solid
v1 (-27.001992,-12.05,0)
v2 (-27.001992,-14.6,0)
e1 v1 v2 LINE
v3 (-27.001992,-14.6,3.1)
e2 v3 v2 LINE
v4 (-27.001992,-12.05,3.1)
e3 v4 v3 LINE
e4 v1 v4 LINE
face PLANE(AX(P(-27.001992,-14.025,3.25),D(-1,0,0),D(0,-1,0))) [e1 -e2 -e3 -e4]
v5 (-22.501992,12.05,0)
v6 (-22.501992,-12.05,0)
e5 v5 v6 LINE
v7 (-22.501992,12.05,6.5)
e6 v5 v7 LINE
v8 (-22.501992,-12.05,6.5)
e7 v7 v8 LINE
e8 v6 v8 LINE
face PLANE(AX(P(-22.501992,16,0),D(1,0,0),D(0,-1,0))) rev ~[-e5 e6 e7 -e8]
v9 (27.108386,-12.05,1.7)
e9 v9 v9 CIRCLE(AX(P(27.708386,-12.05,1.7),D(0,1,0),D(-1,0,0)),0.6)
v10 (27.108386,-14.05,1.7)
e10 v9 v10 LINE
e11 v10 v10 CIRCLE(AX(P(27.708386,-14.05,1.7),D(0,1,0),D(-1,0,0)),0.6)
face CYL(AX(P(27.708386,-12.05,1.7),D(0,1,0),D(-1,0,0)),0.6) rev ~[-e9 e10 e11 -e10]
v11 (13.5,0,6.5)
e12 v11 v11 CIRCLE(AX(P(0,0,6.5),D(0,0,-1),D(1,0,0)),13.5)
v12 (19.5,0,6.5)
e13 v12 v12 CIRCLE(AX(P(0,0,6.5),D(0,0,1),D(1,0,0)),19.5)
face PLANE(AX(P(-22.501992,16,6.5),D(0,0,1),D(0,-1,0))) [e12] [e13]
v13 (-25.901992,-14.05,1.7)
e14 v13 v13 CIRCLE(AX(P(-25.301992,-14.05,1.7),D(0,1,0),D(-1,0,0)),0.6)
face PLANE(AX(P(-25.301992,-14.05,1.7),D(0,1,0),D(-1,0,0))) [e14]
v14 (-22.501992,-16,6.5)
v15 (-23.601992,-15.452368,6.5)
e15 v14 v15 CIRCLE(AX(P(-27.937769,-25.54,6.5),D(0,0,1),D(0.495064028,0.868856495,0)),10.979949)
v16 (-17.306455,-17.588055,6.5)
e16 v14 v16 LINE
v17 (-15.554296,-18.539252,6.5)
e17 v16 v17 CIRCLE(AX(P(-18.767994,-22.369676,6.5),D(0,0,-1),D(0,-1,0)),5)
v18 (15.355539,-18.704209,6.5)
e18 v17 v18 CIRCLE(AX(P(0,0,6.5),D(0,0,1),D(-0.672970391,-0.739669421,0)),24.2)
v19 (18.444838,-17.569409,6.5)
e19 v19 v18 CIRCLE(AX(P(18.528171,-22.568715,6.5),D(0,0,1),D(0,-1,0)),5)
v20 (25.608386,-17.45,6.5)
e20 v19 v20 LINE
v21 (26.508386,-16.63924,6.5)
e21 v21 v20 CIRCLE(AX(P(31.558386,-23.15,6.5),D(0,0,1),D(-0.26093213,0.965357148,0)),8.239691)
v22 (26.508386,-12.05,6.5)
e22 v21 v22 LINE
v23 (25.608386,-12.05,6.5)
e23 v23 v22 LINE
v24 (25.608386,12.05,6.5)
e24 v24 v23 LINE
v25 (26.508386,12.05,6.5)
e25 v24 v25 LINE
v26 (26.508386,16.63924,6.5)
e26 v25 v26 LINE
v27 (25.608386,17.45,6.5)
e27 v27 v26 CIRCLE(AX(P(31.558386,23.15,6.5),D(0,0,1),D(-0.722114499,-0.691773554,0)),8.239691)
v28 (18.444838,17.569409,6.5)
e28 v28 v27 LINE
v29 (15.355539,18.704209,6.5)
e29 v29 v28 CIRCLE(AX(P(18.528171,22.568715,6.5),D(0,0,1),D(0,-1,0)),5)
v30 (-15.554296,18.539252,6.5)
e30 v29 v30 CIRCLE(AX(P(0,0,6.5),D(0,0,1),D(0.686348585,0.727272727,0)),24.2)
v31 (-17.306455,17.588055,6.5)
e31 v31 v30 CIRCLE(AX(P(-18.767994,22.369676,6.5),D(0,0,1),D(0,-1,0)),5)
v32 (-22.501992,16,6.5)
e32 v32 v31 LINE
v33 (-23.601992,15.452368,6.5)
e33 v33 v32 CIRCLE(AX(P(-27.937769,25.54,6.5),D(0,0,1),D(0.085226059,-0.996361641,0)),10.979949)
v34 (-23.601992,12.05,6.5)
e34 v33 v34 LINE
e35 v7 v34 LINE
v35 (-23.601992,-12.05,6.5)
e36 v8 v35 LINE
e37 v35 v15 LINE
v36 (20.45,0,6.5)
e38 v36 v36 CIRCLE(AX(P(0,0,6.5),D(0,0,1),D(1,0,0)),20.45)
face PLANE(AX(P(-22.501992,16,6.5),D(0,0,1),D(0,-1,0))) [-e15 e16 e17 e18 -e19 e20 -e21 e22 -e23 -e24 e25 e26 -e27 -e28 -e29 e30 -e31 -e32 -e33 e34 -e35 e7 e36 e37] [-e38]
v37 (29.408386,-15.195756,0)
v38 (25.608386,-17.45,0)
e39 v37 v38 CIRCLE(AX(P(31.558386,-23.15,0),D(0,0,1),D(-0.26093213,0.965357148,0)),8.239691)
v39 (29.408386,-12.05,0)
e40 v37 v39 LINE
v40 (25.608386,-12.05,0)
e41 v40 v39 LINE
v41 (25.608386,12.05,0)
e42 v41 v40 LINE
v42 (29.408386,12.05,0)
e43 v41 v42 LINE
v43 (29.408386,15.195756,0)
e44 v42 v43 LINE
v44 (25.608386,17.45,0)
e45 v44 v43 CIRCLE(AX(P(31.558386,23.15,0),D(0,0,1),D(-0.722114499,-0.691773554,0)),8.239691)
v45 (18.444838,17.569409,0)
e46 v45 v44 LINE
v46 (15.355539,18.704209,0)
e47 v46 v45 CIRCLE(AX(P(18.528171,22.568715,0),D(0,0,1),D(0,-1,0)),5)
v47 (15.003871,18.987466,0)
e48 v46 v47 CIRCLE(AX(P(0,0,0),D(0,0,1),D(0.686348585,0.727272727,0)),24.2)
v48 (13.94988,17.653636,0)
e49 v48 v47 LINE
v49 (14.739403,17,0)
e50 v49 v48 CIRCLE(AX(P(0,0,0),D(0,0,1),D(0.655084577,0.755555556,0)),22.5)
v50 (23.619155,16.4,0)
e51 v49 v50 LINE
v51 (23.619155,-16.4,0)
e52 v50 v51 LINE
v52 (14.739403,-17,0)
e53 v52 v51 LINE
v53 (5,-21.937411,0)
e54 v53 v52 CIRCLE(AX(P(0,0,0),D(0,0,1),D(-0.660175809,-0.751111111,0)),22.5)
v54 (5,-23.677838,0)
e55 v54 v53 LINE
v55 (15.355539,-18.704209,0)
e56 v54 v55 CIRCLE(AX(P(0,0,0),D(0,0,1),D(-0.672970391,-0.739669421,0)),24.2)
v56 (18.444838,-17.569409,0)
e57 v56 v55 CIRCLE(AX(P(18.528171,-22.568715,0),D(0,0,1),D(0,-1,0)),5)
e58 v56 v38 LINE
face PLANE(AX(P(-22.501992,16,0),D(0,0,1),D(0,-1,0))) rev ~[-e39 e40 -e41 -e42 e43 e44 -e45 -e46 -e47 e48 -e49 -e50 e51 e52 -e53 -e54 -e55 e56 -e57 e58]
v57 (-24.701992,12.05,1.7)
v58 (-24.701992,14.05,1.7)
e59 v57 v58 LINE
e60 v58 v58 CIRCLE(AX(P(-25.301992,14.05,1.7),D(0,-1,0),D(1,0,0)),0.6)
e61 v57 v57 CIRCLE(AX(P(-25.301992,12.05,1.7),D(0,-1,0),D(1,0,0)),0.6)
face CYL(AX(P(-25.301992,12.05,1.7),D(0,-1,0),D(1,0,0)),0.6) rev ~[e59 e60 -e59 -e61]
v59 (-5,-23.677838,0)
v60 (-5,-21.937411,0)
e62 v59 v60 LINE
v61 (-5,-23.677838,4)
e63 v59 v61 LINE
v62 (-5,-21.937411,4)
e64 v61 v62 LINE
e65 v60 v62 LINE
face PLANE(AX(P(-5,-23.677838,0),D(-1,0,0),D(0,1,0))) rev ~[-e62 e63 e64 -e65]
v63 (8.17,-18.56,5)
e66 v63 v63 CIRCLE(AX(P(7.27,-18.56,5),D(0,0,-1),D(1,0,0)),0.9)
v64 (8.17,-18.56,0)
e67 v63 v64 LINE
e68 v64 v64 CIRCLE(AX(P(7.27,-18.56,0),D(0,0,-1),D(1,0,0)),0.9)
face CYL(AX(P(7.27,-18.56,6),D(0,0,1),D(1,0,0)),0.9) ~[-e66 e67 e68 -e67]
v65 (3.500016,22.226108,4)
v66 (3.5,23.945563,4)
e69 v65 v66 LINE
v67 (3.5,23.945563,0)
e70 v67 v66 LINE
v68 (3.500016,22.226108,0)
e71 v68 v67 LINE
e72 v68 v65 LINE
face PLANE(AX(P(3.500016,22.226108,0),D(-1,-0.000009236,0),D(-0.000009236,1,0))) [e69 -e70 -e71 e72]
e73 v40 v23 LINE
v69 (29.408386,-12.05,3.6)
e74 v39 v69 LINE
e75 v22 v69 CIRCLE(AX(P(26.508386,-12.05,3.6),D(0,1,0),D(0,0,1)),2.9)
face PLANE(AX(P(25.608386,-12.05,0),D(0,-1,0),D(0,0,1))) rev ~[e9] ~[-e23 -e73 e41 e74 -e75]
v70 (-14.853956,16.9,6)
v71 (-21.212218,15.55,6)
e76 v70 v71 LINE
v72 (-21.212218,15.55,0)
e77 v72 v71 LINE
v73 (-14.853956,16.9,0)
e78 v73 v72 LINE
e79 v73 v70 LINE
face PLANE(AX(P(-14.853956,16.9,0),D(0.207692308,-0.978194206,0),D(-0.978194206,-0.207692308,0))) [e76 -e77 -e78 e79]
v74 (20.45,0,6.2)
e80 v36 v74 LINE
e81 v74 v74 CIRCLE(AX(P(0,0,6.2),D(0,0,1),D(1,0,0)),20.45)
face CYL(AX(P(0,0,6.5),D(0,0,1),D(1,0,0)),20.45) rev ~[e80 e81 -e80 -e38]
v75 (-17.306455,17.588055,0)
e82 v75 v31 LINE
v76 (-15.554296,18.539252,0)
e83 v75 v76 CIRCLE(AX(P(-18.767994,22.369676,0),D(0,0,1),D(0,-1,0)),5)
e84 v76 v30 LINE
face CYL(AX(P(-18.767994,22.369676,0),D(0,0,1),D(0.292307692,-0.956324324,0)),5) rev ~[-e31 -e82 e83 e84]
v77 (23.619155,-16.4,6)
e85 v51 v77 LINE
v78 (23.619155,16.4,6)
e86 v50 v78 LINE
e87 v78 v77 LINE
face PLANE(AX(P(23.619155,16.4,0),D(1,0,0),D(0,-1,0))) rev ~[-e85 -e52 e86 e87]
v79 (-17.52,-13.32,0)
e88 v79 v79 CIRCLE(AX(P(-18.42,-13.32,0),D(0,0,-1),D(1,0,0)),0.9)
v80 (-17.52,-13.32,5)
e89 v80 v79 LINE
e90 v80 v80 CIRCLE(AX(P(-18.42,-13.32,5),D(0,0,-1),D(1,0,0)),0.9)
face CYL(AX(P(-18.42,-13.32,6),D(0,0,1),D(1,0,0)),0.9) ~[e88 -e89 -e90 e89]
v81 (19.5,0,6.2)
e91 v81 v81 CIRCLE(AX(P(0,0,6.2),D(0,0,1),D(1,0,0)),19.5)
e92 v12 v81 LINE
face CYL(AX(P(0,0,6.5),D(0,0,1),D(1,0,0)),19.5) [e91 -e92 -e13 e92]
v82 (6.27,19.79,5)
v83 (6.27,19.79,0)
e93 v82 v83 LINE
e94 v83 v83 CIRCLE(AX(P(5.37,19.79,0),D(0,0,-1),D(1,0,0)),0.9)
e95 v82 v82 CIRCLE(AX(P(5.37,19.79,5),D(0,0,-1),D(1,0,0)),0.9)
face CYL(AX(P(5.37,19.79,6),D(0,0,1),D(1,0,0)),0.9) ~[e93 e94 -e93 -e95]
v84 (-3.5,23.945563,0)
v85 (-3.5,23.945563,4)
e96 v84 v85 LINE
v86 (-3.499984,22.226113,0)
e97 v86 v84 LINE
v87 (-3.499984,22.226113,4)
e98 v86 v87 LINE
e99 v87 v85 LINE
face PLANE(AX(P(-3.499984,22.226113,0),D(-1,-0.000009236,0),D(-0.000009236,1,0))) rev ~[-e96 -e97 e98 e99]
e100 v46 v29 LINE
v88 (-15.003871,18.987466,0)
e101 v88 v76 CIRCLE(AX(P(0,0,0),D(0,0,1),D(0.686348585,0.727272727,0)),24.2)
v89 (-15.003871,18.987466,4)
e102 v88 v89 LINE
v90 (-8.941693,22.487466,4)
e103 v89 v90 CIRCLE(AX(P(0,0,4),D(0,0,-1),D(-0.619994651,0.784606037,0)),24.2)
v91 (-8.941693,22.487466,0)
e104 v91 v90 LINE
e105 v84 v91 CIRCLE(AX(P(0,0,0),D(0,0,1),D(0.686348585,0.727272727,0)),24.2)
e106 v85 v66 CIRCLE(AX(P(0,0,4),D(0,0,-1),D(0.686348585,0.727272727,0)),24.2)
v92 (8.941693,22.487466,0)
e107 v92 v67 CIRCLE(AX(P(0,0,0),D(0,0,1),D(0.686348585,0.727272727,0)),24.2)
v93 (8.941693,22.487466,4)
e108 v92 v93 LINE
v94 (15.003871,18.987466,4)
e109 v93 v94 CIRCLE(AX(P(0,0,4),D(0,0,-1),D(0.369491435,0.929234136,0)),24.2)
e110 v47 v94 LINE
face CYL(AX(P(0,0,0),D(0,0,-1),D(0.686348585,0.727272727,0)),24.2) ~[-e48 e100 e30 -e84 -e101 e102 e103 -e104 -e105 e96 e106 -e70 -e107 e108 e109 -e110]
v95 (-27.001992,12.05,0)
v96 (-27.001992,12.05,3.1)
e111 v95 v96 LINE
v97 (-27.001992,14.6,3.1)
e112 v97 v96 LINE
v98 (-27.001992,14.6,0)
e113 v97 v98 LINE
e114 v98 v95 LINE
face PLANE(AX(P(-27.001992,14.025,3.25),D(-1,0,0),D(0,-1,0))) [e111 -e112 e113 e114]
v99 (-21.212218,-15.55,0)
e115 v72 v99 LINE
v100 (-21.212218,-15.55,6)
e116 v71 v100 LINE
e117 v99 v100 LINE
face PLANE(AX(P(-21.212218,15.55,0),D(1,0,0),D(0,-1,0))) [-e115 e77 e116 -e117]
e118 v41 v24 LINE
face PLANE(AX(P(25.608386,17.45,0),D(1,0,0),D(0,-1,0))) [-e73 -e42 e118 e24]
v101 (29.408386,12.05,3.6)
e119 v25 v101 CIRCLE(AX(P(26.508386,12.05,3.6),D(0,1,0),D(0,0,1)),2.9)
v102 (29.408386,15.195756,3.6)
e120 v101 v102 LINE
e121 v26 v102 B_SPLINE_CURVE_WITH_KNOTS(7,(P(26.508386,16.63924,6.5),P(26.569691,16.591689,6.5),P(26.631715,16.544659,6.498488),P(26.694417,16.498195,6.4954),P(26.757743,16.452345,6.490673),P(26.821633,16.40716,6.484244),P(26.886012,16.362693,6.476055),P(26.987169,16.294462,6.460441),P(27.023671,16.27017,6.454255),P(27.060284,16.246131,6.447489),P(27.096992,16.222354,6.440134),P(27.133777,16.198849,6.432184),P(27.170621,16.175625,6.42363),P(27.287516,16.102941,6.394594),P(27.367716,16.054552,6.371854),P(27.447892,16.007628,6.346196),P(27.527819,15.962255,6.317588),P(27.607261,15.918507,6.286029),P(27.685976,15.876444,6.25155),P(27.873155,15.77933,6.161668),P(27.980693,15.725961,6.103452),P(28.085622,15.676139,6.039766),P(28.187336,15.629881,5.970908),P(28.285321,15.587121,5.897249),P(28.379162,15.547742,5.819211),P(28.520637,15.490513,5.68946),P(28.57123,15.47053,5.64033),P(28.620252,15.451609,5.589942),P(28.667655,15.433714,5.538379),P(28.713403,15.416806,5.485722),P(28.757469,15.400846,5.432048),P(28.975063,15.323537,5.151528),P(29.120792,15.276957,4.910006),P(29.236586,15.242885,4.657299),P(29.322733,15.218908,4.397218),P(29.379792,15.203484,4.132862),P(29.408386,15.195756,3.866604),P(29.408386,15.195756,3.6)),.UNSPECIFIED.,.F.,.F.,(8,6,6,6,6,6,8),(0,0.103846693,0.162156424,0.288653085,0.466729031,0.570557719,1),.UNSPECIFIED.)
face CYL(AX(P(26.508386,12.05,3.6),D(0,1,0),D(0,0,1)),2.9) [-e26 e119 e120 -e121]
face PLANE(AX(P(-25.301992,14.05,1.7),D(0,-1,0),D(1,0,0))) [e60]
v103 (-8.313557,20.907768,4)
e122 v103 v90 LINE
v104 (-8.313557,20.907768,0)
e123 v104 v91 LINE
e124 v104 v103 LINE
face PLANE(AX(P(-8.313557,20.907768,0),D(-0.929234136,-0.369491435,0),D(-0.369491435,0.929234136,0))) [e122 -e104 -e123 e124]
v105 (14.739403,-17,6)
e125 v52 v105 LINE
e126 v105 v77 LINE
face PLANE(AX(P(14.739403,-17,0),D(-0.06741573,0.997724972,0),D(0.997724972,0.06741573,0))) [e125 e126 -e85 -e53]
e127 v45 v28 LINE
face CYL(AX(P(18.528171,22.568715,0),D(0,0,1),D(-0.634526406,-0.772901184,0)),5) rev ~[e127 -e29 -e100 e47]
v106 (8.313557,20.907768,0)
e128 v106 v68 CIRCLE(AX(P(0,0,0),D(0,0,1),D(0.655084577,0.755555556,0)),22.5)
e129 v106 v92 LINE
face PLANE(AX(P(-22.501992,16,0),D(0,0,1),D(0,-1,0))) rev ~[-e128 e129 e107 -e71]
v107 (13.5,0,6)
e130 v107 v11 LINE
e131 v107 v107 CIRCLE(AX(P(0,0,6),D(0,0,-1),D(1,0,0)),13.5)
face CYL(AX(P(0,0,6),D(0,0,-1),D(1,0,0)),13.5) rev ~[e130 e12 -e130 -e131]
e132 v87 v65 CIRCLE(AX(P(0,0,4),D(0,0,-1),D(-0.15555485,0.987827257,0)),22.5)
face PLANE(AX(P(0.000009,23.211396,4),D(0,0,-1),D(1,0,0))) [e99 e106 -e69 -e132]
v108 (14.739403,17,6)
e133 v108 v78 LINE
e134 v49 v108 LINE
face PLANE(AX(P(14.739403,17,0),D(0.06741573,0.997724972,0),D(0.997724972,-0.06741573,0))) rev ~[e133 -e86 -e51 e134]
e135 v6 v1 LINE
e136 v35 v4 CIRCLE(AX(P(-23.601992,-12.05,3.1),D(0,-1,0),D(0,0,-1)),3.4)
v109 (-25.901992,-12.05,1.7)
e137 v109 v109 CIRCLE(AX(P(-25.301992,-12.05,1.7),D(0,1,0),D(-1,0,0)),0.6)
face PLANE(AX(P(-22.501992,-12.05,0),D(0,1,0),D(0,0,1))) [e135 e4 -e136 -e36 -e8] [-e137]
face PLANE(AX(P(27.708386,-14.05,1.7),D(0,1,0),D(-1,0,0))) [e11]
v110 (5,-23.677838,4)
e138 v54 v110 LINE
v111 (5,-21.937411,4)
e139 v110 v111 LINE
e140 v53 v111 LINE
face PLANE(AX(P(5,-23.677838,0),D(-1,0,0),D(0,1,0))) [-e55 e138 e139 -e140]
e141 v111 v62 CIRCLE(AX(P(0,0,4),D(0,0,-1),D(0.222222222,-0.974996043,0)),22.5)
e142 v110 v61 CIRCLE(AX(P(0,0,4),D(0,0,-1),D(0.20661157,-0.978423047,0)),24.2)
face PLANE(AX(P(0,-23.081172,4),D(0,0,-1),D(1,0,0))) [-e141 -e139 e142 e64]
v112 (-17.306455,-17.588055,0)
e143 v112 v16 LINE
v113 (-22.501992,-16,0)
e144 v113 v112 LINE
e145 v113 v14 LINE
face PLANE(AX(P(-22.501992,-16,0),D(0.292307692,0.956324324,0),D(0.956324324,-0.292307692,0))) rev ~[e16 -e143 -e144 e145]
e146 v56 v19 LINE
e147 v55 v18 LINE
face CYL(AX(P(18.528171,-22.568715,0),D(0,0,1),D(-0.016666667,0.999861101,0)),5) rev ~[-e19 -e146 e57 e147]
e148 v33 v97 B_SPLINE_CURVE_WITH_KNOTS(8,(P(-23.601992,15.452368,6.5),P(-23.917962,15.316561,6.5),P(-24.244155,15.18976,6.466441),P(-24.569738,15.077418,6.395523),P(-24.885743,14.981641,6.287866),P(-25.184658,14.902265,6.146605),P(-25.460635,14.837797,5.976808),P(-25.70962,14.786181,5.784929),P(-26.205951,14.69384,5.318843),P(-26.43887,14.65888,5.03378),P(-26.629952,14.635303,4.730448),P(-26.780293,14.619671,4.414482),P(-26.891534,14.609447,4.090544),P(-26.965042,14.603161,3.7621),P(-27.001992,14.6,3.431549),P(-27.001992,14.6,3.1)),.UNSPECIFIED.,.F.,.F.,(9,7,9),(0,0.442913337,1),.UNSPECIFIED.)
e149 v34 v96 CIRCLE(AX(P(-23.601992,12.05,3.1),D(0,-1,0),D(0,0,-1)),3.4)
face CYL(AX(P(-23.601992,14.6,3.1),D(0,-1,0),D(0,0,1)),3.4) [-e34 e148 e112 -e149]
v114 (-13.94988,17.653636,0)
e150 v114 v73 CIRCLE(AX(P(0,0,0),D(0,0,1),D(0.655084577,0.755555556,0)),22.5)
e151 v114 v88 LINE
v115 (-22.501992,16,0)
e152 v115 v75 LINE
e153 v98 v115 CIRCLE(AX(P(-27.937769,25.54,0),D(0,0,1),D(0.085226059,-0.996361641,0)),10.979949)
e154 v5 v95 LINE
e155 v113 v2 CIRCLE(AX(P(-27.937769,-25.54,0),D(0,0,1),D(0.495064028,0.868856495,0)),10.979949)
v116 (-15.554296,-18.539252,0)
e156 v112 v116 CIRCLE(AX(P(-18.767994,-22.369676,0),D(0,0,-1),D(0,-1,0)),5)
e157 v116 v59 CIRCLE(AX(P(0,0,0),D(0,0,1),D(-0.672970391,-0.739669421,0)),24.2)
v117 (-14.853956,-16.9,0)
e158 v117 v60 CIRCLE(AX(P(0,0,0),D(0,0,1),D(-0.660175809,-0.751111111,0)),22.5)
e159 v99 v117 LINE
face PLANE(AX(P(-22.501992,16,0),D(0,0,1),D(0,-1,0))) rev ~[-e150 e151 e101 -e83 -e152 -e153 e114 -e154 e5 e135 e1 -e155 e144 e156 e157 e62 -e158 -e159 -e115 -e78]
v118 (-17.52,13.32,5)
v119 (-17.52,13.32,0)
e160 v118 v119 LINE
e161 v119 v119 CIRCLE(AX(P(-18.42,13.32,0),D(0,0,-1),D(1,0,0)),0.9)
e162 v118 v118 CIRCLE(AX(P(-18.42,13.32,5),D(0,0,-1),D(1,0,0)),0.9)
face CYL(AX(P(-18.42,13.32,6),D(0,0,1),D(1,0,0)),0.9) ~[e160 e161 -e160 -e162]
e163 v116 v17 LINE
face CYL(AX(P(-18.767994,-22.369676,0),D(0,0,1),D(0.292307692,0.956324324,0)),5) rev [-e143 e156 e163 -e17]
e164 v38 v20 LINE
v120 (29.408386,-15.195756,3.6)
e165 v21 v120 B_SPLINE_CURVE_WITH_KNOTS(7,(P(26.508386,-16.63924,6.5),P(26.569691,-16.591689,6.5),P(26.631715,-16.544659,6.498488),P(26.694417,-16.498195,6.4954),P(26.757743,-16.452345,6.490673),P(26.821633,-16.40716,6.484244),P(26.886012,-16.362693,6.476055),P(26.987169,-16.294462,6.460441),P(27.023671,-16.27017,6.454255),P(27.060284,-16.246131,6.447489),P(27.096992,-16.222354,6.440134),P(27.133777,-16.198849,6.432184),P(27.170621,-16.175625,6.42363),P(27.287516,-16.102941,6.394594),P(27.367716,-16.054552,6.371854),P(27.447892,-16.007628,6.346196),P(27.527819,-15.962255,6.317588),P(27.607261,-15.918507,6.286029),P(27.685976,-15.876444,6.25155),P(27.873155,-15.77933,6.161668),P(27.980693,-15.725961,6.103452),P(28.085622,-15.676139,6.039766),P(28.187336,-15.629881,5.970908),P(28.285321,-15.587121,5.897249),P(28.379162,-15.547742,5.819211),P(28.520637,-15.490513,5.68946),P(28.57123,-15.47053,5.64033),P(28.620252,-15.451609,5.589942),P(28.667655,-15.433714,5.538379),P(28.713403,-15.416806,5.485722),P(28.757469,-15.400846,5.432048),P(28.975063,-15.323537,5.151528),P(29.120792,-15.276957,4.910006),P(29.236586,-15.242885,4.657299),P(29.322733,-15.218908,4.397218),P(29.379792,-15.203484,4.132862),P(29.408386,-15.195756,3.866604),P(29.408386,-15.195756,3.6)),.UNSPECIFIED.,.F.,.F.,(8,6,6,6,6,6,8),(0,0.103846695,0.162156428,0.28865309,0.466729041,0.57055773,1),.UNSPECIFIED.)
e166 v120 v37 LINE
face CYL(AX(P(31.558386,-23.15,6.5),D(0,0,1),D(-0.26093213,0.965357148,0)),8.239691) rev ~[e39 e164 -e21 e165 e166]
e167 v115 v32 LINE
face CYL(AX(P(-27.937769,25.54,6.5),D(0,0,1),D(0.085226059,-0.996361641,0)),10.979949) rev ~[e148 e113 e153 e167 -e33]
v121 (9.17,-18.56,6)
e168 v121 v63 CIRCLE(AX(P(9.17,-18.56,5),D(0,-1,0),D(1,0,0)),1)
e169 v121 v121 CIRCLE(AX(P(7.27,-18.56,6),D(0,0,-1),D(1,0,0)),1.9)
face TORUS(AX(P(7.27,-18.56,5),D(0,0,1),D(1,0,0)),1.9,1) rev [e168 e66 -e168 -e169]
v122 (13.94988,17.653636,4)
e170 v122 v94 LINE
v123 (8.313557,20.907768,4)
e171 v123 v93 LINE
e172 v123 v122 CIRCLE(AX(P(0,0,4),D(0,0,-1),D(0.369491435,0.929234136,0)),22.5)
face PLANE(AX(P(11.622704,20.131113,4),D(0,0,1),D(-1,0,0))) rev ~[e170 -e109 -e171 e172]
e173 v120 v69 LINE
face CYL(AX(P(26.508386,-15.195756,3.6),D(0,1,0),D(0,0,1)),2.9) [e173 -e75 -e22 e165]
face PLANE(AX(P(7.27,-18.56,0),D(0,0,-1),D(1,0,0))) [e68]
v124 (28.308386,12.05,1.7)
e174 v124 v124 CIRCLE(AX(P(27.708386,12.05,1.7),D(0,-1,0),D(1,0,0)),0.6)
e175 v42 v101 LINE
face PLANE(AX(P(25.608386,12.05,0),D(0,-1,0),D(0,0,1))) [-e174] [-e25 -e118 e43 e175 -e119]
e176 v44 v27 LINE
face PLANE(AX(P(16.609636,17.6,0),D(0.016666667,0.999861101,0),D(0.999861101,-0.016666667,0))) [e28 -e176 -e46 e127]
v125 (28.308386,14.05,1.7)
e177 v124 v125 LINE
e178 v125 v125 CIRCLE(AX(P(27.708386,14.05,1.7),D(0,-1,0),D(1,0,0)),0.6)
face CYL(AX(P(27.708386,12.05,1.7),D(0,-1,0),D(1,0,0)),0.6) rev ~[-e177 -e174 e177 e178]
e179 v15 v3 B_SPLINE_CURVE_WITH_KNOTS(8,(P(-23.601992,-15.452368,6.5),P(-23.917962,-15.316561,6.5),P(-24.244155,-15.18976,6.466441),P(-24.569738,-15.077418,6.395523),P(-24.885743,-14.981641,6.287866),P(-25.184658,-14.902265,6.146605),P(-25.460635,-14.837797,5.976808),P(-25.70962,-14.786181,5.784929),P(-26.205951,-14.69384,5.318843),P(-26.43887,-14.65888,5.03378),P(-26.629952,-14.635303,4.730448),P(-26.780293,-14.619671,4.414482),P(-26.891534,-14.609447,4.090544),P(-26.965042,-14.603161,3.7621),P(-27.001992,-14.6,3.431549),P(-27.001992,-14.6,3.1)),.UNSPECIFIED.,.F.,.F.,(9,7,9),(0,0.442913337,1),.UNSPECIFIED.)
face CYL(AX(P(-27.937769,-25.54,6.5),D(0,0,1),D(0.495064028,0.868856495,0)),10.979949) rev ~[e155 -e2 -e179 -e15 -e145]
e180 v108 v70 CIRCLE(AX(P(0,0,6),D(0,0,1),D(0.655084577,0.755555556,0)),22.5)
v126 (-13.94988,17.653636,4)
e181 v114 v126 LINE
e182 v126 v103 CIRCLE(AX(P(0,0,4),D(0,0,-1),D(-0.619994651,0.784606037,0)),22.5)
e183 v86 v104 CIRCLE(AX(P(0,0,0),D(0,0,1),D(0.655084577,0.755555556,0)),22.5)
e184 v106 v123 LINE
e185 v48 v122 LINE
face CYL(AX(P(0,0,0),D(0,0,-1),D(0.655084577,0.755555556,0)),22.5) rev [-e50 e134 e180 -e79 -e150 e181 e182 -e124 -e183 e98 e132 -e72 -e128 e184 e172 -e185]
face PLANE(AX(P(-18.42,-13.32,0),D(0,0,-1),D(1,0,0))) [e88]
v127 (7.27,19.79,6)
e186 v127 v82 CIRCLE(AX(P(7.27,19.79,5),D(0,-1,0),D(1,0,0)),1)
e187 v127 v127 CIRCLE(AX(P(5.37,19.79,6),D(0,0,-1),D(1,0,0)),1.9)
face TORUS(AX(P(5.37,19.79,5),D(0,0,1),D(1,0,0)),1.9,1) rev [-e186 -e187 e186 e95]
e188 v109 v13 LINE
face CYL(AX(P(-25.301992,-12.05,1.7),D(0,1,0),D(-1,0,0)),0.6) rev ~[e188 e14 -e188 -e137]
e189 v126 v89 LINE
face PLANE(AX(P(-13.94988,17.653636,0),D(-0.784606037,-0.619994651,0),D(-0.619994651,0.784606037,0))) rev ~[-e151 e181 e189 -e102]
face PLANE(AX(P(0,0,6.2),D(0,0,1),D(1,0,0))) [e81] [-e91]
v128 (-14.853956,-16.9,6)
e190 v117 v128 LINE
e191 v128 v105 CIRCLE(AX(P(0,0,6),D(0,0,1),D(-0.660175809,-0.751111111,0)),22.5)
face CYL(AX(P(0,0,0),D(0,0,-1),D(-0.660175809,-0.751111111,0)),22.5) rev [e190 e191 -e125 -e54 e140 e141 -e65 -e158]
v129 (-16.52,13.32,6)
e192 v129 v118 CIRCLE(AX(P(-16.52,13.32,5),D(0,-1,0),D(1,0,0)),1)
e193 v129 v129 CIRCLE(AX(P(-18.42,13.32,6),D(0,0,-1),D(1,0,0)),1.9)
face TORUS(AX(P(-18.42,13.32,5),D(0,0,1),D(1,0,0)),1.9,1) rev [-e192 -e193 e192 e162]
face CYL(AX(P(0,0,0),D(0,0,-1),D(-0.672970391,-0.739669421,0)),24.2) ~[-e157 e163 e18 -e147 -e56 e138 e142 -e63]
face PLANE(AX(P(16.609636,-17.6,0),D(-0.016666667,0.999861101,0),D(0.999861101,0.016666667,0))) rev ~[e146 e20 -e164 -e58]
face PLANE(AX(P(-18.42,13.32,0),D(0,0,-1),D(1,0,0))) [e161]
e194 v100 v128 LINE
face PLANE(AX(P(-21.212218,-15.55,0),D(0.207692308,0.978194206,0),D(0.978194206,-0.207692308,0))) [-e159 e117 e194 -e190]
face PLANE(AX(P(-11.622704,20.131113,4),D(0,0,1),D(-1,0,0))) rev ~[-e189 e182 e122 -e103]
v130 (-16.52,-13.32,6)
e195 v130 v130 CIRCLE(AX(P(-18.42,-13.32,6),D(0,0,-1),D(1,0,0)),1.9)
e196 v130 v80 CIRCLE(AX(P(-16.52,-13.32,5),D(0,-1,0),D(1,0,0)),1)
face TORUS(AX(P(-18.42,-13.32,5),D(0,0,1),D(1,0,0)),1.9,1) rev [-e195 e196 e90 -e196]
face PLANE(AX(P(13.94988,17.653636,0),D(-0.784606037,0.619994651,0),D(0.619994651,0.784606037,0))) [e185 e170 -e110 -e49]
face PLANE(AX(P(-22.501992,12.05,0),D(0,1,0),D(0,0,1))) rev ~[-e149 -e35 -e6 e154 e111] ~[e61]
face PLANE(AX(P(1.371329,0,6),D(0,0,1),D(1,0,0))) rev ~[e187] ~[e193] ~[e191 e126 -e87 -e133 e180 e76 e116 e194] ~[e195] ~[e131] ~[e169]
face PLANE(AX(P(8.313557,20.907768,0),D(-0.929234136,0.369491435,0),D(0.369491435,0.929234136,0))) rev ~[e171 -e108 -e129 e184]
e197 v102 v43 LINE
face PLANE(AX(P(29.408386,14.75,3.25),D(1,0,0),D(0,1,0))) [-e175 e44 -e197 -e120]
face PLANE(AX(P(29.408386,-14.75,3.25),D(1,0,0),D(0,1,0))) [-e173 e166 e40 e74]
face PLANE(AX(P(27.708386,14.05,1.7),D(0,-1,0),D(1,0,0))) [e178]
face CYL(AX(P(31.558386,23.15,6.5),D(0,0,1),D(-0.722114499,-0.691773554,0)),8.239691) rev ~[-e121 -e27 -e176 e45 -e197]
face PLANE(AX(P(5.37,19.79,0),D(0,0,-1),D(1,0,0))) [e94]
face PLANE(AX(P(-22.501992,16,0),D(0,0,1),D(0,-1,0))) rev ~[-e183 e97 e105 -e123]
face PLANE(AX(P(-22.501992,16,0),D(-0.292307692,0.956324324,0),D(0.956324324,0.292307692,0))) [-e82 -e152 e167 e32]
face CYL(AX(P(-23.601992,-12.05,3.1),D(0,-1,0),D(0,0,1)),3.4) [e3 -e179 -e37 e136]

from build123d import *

# Parameters (mm, degrees)
PAD_DEPTH       = 6.5
POCKET_DEPTH    = 6
SKETCH002_R     = 13.5
POCKET001_DEPTH = 1
SKETCH003_W     = 5.4
SKETCH003_H     = 6.5
PAD001_DEPTH    = 3.8
POCKET002_DEPTH = 10
SKETCH008_R     = 0.6
POCKET003_DEPTH = 2
SKETCH009_R     = 0.6
POCKET004_DEPTH = 2
FILLET_R        = 2.9
FILLET001_R     = 2.9
FILLET002_R     = 5
FILLET003_R     = 5
FILLET004_R     = 5
FILLET005_R     = 5
SKETCH010_W     = 3.95
SKETCH010_H     = 6.5
PAD002_DEPTH    = 4.5
POCKET005_DEPTH = 10
SKETCH012_R     = 0.6
POCKET006_DEPTH = 2
SKETCH013_R     = 0.6
POCKET007_DEPTH = 2
FILLET006_R     = 3.4
FILLET007_R     = 3.4
SKETCH014_R     = 20.45
SKETCH014_R_2   = 19.5
POCKET008_DEPTH = 0.3
SKETCH015_R     = 0.9
PAD003_DEPTH    = 6
FILLET008_R     = 1
POCKET009_DEPTH = 4
POCKET010_DEPTH = 4


with BuildPart() as part:
    # Sketch → Pad (new body)
    with BuildSketch(Plane.XY):
        with BuildLine():
            Line((-22.5019915649, 16), (-22.5019915649, -16))
            Line((-22.5019915649, -16), (-16.2858834578, -17.9))
            ThreePointArc((-16.2858834578, -17.9), (0.2206895736, -24.1989937004), (16.6096357576, -17.6))
            Line((16.6096357576, -17.6), (25.6083856708, -17.45))
            Line((25.6083856708, 17.45), (25.6083856708, -17.45))
            Line((16.6096357576, 17.6), (25.6083856708, 17.45))
            ThreePointArc((16.6096357576, 17.6), (0.2206895736, 24.1989937004), (-16.2858834578, 17.9))
            Line((-22.5019915649, 16), (-16.2858834578, 17.9))
        make_face()
    extrude(amount=PAD_DEPTH)

    # Sketch001 → Pocket (cut)
    with BuildSketch(Plane.XY):
        with BuildLine():
            Line((-14.8539557021, 16.9), (-21.2122180433, 15.55))
            Line((-21.2122180433, 15.55), (-21.2122180433, -15.55))
            Line((-21.2122180433, -15.55), (-14.8539557021, -16.9))
            ThreePointArc((-14.8539557021, -16.9), (-0.0760301383, -22.4998715423), (14.739402973, -17))
            Line((14.739402973, -17), (23.6191552218, -16.4))
            Line((23.6191552218, 16.4), (23.6191552218, -16.4))
            Line((14.739402973, 17), (23.6191552218, 16.4))
            ThreePointArc((14.739402973, 17), (-0.0760301383, 22.4998715423), (-14.8539557021, 16.9))
        make_face()
    extrude(amount=POCKET_DEPTH, mode=Mode.SUBTRACT)

    # Sketch002 (on Face19 of Pocket) → Pocket001 (cut)
    with BuildSketch(Plane(origin=(0, 0, 6), x_dir=(1, 0, 0), z_dir=(0, 0, -1))):
        Circle(SKETCH002_R)
    extrude(amount=-POCKET001_DEPTH, mode=Mode.SUBTRACT)

    # Sketch003 (on Face6 of Pocket001) → Pad001 (join)
    with BuildSketch(Plane.YZ.offset(25.6083856708)):
        with Locations((-14.75, 3.25)):
            Rectangle(SKETCH003_W, SKETCH003_H)
        with Locations((14.75, 3.25)):
            Rectangle(SKETCH003_W, SKETCH003_H)
    extrude(amount=PAD001_DEPTH)

    # Sketch006 → Pocket002 (cut)
    with BuildSketch(Plane.XY.offset(6.5)):
        with BuildLine():
            ThreePointArc((25.6083856708, 17.45), (27.3544703324, 16.0634214301), (29.4083856708, 15.1957558499))
            Line((29.4083856708, 17.45), (29.4083856708, 15.1957558499))
            Line((29.4083856708, 17.45), (25.6083856708, 17.45))
        make_face()
        with BuildLine():
            ThreePointArc((29.4083856708, -15.1957558499), (27.3544703324, -16.0634214301), (25.6083856708, -17.45))
            Line((29.4083856708, -17.45), (25.6083856708, -17.45))
            Line((29.4083856708, -15.1957558499), (29.4083856708, -17.45))
        make_face()
    extrude(amount=-POCKET002_DEPTH, mode=Mode.SUBTRACT)

    # Sketch008 (on Face27 of Pocket002) → Pocket003 (cut)
    with BuildSketch(Plane(origin=(0, -12.05, 0), x_dir=(-1, 0, 0), z_dir=(0, 1, 0))):
        with Locations((-27.7083856708, 1.7)):
            Circle(SKETCH008_R)
    extrude(amount=-POCKET003_DEPTH, mode=Mode.SUBTRACT)

    # Sketch009 (on Face26 of Pocket003) → Pocket004 (cut)
    with BuildSketch(Plane.XZ.offset(-12.05)):
        with Locations((27.7083856708, 1.7)):
            Circle(SKETCH009_R)
    extrude(amount=-POCKET004_DEPTH, mode=Mode.SUBTRACT)

    # Fillet
    fillet_edges = [part.edges().sort_by_distance(p)[0] for p in [
        (29.408386, -13.622878, 6.5),
    ]]
    fillet(fillet_edges, radius=FILLET_R)

    # Fillet001
    fillet001_edges = [part.edges().sort_by_distance(p)[0] for p in [
        (29.408386, 13.622878, 6.5),
    ]]
    fillet(fillet001_edges, radius=FILLET001_R)

    # Fillet002
    fillet002_edges = [part.edges().sort_by_distance(p)[0] for p in [
        (16.609636, -17.6, 3.25),
    ]]
    fillet(fillet002_edges, radius=FILLET002_R)

    # Fillet003
    fillet003_edges = [part.edges().sort_by_distance(p)[0] for p in [
        (16.609636, 17.6, 3.25),
    ]]
    fillet(fillet003_edges, radius=FILLET003_R)

    # Fillet004
    fillet004_edges = [part.edges().sort_by_distance(p)[0] for p in [
        (-16.285883, -17.9, 3.25),
    ]]
    fillet(fillet004_edges, radius=FILLET004_R)

    # Fillet005
    fillet005_edges = [part.edges().sort_by_distance(p)[0] for p in [
        (-16.285883, 17.9, 3.25),
    ]]
    fillet(fillet005_edges, radius=FILLET005_R)

    # Sketch010 (on Face4 of Fillet005) → Pad002 (join)
    with BuildSketch(Plane(origin=(-22.5019915649, 0, 0), x_dir=(0, -1, 0), z_dir=(-1, 0, 0))):
        with Locations((-14.025, 3.25)):
            Rectangle(SKETCH010_W, SKETCH010_H)
        with Locations((14.025, 3.25)):
            Rectangle(SKETCH010_W, SKETCH010_H)
    extrude(amount=PAD002_DEPTH)

    # Sketch011 (on Face6 of Pad002) → Pocket005 (cut)
    with BuildSketch(Plane.XY.offset(6.5)):
        with BuildLine():
            ThreePointArc((-27.0019915649, 14.6), (-24.6759937451, 15.0557212933), (-22.5019915649, 16))
            Line((-22.5019915649, 16), (-27.0019915649, 16))
            Line((-27.0019915649, 16), (-27.0019915649, 14.6))
        make_face()
        with BuildLine():
            ThreePointArc((-22.5019915649, -16), (-24.6759937451, -15.0557212933), (-27.0019915649, -14.6))
            Line((-27.0019915649, -14.6), (-27.0019915649, -16))
            Line((-27.0019915649, -16), (-22.5019915649, -16))
        make_face()
    extrude(amount=-POCKET005_DEPTH, mode=Mode.SUBTRACT)

    # Sketch012 (on Face23 of Pocket005) → Pocket006 (cut)
    with BuildSketch(Plane(origin=(0, -12.05, 0), x_dir=(-1, 0, 0), z_dir=(0, 1, 0))):
        with Locations((25.3019915649, 1.7)):
            Circle(SKETCH012_R)
    extrude(amount=-POCKET006_DEPTH, mode=Mode.SUBTRACT)

    # Sketch013 (on Face21 of Pocket006) → Pocket007 (cut)
    with BuildSketch(Plane.XZ.offset(-12.05)):
        with Locations((-25.3019915649, 1.7)):
            Circle(SKETCH013_R)
    extrude(amount=-POCKET007_DEPTH, mode=Mode.SUBTRACT)

    # Fillet006
    fillet006_edges = [part.edges().sort_by_distance(p)[0] for p in [
        (-27.001992, 13.325, 6.5),
    ]]
    fillet(fillet006_edges, radius=FILLET006_R)

    # Fillet007
    fillet007_edges = [part.edges().sort_by_distance(p)[0] for p in [
        (-27.001992, -13.325, 6.5),
    ]]
    fillet(fillet007_edges, radius=FILLET007_R)

    # Sketch014 (on Face4 of Fillet007) → Pocket008 (cut)
    with BuildSketch(Plane.XY.offset(6.5)):
        Circle(SKETCH014_R)
        Circle(SKETCH014_R_2, mode=Mode.SUBTRACT)
    extrude(amount=-POCKET008_DEPTH, mode=Mode.SUBTRACT)

    # Sketch015 (on Face55 of Pocket008) → Pad003 (join)
    with BuildSketch(Plane(origin=(0, 0, 6), x_dir=(1, 0, 0), z_dir=(0, 0, -1))):
        with Locations((-18.42, 13.32)):
            Circle(SKETCH015_R)
        with Locations((-18.42, -13.32)):
            Circle(SKETCH015_R)
        with Locations((7.27, 18.56)):
            Circle(SKETCH015_R)
        with Locations((5.37, -19.79)):
            Circle(SKETCH015_R)
    extrude(amount=PAD003_DEPTH)

    # Fillet008
    fillet008_edges = [part.edges().sort_by_distance(p)[0] for p in [
        (-19.32, -13.32, 6),
        (6.37, -18.56, 6),
        (-19.32, 13.32, 6),
        (4.47, 19.79, 6),
    ]]
    fillet(fillet008_edges, radius=FILLET008_R)

    # Sketch016 (on Face16 of Fillet008) → Pocket009 (cut)
    with BuildSketch(Plane(origin=(0, 0, 0), x_dir=(1, 0, 0), z_dir=(0, 0, -1))):
        with BuildLine():
            Line((-5, 23.6778377391), (-5, 21.9374109685))
            ThreePointArc((5, 21.9374109685), (0, 22.5), (-5, 21.9374109685))
            Line((5, 23.6778377391), (5, 21.9374109685))
            ThreePointArc((5, 23.6778377391), (0, 24.2), (-5, 23.6778377391))
        make_face()
    extrude(amount=-POCKET009_DEPTH, mode=Mode.SUBTRACT)

    # Sketch017 (on Face16 of Pocket009) → Pocket010 (cut)
    with BuildSketch(Plane(origin=(0, 0, 0), x_dir=(1, 0, 0), z_dir=(0, 0, -1))):
        with BuildLine():
            Line((-3.499984119, -22.2261132717), (-3.5, -23.9455632634))
            ThreePointArc((-3.5, -23.9455632634), (0, -24.2000019575), (3.5, -23.9455632634))
            Line((3.5000158811, -22.2261082701), (3.5, -23.9455632634))
            ThreePointArc((-3.499984119, -22.2261132717), (1.60767e-05, -22.5), (3.5000158811, -22.2261082701))
        make_face()
        with BuildLine():
            ThreePointArc((-13.9498796389, -17.6536358312), (-11.25, -19.4855715851), (-8.3135572795, -20.9077680626))
            Line((-8.3135572795, -20.9077680626), (-8.9416927184, -22.487466094))
            ThreePointArc((-15.0038705449, -18.987466094), (-12.1, -20.9578147716), (-8.9416927184, -22.487466094))
            Line((-13.9498796389, -17.6536358312), (-15.0038705449, -18.987466094))
        make_face()
        with BuildLine():
            ThreePointArc((8.3135572795, -20.9077680626), (11.25, -19.4855715851), (13.9498796389, -17.6536358312))
            Line((13.9498796389, -17.6536358312), (15.0038705449, -18.987466094))
            ThreePointArc((8.9416927184, -22.487466094), (12.1, -20.9578147716), (15.0038705449, -18.987466094))
            Line((8.3135572795, -20.9077680626), (8.9416927184, -22.487466094))
        make_face()
    extrude(amount=-POCKET010_DEPTH, mode=Mode.SUBTRACT)


solid = part.part
